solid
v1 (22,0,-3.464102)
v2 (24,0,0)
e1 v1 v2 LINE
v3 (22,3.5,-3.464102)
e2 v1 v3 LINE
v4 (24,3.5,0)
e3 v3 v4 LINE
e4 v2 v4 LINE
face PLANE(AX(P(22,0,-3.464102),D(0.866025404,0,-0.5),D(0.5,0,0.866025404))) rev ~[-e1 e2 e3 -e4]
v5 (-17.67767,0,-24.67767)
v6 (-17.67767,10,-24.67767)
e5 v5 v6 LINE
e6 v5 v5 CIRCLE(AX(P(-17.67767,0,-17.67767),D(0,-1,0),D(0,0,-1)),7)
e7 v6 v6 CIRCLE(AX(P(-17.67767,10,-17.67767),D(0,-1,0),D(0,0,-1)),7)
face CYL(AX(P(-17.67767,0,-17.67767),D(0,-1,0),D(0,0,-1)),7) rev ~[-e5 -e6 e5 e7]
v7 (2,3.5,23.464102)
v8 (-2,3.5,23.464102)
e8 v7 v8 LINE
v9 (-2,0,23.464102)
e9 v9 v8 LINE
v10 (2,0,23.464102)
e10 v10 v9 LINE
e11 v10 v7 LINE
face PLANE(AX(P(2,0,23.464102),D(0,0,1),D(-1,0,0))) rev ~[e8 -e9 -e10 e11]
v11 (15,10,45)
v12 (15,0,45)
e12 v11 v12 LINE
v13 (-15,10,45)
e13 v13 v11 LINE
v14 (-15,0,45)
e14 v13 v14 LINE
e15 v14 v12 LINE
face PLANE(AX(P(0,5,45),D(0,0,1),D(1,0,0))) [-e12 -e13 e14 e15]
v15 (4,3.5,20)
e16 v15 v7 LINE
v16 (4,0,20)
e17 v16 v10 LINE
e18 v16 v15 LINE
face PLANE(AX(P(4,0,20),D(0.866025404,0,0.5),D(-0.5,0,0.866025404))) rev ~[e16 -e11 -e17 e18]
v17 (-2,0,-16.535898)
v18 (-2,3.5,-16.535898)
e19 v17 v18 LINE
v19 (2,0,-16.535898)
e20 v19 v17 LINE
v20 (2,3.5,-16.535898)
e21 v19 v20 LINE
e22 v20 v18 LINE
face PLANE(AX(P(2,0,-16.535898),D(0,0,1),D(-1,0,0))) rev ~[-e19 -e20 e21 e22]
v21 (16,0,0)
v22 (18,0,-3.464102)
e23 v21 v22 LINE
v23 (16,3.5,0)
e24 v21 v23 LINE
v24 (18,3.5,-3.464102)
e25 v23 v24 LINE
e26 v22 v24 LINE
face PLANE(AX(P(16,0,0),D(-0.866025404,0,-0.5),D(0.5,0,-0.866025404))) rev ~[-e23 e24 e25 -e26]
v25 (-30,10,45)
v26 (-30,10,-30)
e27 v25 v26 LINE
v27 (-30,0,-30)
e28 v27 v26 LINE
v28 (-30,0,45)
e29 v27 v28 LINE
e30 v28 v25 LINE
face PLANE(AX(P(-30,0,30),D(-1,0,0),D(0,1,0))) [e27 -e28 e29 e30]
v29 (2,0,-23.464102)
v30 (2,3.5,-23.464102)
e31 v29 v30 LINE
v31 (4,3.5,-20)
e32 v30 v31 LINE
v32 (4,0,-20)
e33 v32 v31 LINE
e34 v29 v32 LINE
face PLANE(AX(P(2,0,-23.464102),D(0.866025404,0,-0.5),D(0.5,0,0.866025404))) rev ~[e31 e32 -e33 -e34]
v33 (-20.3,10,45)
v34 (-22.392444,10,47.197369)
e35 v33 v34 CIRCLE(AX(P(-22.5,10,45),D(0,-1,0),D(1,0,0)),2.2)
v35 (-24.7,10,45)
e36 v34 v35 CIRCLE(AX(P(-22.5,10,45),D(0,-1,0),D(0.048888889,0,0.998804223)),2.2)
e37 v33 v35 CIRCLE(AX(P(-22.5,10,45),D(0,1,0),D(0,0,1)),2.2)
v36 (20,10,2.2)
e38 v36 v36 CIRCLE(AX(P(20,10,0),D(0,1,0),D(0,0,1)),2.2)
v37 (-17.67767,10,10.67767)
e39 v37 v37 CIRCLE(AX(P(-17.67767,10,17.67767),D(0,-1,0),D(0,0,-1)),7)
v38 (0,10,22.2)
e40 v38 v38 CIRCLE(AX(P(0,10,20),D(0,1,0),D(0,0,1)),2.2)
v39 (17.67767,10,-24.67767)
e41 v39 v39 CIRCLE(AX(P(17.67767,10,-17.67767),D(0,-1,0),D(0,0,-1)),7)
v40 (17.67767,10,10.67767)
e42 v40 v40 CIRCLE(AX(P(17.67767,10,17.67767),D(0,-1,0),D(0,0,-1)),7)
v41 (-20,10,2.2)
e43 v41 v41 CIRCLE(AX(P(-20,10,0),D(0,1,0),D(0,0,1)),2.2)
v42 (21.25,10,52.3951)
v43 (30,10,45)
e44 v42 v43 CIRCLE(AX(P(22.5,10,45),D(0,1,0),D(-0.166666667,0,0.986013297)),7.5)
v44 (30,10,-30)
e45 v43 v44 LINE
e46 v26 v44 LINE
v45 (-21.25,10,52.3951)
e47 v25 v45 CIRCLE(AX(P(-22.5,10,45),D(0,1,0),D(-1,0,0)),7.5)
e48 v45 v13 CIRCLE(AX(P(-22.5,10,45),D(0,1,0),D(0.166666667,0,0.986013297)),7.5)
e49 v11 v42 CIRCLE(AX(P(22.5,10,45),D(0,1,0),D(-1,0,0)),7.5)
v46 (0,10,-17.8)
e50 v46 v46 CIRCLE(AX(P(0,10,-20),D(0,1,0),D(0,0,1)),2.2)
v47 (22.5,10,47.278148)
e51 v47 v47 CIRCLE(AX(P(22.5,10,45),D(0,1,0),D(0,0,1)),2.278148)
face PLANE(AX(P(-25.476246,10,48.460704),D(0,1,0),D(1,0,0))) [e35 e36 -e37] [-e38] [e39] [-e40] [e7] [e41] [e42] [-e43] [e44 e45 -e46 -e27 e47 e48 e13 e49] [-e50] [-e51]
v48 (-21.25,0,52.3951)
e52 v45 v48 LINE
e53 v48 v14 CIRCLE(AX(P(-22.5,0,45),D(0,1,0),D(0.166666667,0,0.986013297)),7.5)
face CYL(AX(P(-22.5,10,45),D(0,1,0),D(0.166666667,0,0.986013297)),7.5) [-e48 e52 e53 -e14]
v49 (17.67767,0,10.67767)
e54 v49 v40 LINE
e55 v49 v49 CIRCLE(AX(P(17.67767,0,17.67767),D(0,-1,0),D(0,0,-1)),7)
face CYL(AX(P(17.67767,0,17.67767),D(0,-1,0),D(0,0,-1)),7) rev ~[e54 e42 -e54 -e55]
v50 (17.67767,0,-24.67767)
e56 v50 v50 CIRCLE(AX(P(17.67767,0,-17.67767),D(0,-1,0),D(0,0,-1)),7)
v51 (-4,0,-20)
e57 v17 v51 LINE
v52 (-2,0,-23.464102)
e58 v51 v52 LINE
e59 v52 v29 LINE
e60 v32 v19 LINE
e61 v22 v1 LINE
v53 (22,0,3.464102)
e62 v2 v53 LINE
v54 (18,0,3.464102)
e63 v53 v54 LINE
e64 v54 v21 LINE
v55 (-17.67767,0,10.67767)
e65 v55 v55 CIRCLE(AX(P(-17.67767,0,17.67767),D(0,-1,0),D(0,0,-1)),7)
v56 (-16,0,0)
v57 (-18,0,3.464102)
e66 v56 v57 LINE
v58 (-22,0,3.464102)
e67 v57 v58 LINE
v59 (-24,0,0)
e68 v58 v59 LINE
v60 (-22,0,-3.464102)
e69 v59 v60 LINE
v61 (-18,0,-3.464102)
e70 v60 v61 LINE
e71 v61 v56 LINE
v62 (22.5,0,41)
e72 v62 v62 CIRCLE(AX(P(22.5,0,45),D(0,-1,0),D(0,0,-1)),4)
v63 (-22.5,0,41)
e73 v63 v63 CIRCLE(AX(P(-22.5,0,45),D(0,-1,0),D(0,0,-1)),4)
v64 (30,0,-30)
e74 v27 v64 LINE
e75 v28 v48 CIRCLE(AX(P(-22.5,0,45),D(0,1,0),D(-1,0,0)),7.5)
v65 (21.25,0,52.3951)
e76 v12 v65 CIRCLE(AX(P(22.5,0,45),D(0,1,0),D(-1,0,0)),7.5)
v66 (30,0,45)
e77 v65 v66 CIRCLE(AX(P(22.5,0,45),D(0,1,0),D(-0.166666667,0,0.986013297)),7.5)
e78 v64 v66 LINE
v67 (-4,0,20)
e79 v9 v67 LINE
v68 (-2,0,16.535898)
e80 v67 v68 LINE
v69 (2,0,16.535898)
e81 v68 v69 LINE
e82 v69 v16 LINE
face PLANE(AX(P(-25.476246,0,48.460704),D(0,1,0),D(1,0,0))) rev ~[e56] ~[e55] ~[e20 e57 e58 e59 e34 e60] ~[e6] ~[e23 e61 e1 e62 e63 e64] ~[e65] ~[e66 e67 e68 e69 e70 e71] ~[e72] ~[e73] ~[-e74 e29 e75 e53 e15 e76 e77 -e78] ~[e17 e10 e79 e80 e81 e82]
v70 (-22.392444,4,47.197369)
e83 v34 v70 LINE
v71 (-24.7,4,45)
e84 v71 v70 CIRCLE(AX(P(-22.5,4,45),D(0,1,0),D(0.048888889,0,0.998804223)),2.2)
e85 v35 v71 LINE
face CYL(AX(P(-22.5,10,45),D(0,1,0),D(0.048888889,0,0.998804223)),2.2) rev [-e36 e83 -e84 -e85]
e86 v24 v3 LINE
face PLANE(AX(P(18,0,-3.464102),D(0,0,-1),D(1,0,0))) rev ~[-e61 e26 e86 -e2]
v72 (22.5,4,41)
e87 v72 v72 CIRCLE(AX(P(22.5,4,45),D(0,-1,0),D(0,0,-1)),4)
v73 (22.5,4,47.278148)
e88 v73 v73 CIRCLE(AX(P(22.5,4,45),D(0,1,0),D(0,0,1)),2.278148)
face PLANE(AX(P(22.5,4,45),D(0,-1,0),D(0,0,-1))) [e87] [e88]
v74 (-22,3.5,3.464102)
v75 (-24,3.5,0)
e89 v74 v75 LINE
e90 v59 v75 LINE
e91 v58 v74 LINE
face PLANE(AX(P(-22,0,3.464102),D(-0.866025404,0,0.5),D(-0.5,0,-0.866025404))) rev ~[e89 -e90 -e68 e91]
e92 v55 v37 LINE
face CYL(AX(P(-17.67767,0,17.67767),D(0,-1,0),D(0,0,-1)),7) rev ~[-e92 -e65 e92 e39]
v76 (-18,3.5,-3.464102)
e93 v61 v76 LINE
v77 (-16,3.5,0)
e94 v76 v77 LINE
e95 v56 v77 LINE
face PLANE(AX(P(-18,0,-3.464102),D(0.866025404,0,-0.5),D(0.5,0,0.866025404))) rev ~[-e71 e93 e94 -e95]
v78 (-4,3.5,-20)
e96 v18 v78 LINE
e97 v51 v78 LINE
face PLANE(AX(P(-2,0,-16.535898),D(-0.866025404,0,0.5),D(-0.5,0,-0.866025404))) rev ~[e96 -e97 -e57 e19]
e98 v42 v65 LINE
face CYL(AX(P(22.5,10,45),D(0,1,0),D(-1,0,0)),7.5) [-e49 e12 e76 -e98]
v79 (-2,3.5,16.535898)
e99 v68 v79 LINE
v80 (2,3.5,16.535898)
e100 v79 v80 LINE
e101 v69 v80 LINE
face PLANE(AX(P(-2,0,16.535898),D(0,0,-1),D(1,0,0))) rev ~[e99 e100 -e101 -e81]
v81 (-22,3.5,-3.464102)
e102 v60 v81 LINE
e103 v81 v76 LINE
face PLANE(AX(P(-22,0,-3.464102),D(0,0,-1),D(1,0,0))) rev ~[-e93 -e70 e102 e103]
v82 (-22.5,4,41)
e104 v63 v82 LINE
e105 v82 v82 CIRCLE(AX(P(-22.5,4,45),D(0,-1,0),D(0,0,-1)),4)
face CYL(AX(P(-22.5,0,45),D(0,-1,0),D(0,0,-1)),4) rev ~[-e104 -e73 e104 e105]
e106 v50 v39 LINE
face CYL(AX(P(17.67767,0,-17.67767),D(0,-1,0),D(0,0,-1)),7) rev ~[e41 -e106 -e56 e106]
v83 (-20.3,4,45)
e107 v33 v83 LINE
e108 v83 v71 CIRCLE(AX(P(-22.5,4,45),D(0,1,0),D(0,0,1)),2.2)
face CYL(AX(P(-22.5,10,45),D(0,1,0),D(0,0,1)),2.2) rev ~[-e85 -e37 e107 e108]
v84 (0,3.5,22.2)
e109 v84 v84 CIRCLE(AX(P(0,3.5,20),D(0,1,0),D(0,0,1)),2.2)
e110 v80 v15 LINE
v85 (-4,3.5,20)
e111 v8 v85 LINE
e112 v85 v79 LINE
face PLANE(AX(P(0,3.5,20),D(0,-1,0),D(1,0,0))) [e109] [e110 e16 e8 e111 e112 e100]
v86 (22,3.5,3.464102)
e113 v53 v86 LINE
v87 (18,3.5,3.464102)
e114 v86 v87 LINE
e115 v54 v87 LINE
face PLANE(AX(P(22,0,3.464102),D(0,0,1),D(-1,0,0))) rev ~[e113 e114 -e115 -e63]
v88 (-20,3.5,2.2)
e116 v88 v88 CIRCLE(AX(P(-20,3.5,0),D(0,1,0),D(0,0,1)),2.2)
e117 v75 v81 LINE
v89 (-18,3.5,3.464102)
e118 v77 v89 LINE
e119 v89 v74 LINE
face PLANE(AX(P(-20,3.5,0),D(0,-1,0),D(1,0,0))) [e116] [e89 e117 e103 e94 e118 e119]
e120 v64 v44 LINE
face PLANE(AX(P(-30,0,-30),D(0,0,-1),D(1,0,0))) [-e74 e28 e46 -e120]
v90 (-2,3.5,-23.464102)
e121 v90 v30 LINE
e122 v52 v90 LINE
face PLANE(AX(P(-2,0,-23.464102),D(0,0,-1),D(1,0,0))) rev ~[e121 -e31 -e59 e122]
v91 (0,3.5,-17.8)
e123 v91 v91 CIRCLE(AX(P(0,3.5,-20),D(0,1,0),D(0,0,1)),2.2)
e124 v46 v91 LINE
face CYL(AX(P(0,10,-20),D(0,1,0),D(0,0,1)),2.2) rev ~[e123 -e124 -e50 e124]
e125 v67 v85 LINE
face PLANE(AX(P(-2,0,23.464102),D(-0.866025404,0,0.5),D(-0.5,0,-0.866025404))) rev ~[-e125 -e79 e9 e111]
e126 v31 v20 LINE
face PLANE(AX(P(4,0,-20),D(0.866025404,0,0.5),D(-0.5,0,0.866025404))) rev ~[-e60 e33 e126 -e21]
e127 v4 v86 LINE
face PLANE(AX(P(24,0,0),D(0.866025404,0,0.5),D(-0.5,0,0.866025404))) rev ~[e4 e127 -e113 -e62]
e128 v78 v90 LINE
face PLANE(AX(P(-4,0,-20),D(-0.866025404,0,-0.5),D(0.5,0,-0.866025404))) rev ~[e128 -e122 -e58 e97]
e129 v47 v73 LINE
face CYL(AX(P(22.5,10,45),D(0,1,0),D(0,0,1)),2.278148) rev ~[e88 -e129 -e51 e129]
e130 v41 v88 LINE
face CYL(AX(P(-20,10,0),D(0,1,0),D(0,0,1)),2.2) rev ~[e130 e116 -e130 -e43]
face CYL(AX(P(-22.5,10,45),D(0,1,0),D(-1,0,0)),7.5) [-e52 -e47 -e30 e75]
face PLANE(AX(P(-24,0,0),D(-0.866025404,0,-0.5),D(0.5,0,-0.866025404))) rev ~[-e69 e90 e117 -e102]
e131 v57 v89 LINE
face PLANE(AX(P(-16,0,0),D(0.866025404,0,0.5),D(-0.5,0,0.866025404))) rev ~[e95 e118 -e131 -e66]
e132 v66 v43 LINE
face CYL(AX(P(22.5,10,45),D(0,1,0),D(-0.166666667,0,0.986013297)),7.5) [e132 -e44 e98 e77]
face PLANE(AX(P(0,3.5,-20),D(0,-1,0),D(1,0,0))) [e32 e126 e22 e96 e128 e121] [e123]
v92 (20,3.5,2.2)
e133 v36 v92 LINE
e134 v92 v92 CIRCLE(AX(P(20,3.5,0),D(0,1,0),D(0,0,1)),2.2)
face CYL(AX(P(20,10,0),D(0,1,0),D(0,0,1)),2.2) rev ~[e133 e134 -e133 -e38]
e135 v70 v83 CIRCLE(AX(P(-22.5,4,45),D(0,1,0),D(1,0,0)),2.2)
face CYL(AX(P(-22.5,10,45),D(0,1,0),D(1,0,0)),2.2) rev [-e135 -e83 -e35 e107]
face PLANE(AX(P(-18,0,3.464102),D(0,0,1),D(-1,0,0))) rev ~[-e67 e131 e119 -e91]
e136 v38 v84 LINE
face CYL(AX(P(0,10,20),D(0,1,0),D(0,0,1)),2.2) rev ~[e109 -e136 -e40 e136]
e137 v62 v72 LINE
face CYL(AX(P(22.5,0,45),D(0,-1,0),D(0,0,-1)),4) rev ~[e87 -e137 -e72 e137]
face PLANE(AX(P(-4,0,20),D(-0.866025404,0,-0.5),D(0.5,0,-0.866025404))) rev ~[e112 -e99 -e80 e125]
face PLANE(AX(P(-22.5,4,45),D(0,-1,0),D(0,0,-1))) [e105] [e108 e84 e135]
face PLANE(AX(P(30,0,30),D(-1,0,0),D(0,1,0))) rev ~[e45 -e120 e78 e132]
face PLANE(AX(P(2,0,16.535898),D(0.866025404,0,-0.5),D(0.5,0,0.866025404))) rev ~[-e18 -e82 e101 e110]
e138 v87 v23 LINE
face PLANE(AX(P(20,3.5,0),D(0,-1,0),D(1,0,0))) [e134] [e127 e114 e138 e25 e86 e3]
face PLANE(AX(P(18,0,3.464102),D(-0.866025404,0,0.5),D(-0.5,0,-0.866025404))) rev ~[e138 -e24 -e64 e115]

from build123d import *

# Parameters (mm, degrees)
SKETCH_1_W          = 60
SKETCH_1_H          = 60
EXTRUDE_1_DEPTH     = 10
SKETCH_2_R          = 2.2
CUT_EXTRUDE_1_DEPTH = 10
CUT_EXTRUDE_2_DEPTH = 3.5
SKETCH_4_R          = 7
CUT_EXTRUDE_3_DEPTH = 44.588989435
SKETCH_5_W          = 60
SKETCH_5_H          = 10
EXTRUDE_2_DEPTH     = 15
EXTRUDE_3_DEPTH     = 10
SKETCH_7_R          = 2.27814783
SKETCH_7_R_2        = 2.2
CUT_EXTRUDE_4_DEPTH = 62.288253361
SKETCH_8_R          = 4
CUT_EXTRUDE_5_DEPTH = 4


with BuildPart() as part:
    # 草图1 → 凸台-拉伸1 (new body)
    with BuildSketch(Plane(origin=(0, 0, 0), x_dir=(1, 0, 0), z_dir=(0, 1, 0))):
        Rectangle(SKETCH_1_W, SKETCH_1_H)
    extrude(amount=EXTRUDE_1_DEPTH)

    # 草图2 → 切除-拉伸1 (cut)
    with BuildSketch(Plane(origin=(0, 10, 0), x_dir=(1, 0, 0), z_dir=(0, 1, 0))):
        with Locations(Location((0, 20, 0), (0, 0, 270))):
            Circle(SKETCH_2_R)
        with Locations(Location((-20, 0, 0), (0, 0, 270))):
            Circle(SKETCH_2_R)
        with Locations(Location((0, -20, 0), (0, 0, 270))):
            Circle(SKETCH_2_R)
        with Locations(Location((20, 0, 0), (0, 0, 270))):
            Circle(SKETCH_2_R)
    extrude(amount=-CUT_EXTRUDE_1_DEPTH, mode=Mode.SUBTRACT)

    # 草图3 → 切除-拉伸2 (cut)
    with BuildSketch(Plane.XZ):
        Polygon((4, 20), (2, 23.464101615), (-2, 23.464101615), (-4, 20), (-2, 16.535898385), (2, 16.535898385), align=None)
        Polygon((-16, 0), (-18, 3.464101615), (-22, 3.464101615), (-24, 0), (-22, -3.464101615), (-18, -3.464101615), align=None)
        Polygon((24, 0), (22, 3.464101615), (18, 3.464101615), (16, 0), (18, -3.464101615), (22, -3.464101615), align=None)
        Polygon((4, -20), (2, -16.535898385), (-2, -16.535898385), (-4, -20), (-2, -23.464101615), (2, -23.464101615), align=None)
    extrude(amount=-CUT_EXTRUDE_2_DEPTH, mode=Mode.SUBTRACT)

    # 草图4 → 切除-拉伸3 (cut, through all)
    with BuildSketch(Plane.XZ):
        with Locations(Location((-17.67766953, 17.67766953, 0), (0, 0, 270))):
            Circle(SKETCH_4_R)
        with Locations(Location((-17.67766953, -17.67766953, 0), (0, 0, 270))):
            Circle(SKETCH_4_R)
        with Locations(Location((17.67766953, -17.67766953, 0), (0, 0, 270))):
            Circle(SKETCH_4_R)
        with Locations(Location((17.67766953, 17.67766953, 0), (0, 0, 270))):
            Circle(SKETCH_4_R)
    extrude(amount=-CUT_EXTRUDE_3_DEPTH, mode=Mode.SUBTRACT)

    # 草图5 → 凸台-拉伸2 (add)
    with BuildSketch(Plane.XY.offset(30)):
        with Locations((0, 5)):
            Rectangle(SKETCH_5_W, SKETCH_5_H)
    extrude(amount=EXTRUDE_2_DEPTH)

    # 草图6 → 凸台-拉伸3 (add)
    with BuildSketch(Plane(origin=(0, 10, 0), x_dir=(1, 0, 0), z_dir=(0, 1, 0))):
        with BuildLine():
            ThreePointArc((-30, -45), (-27.341229183, -50.728219619), (-21.25, -52.395099729))
            ThreePointArc((-21.25, -52.395099729), (-21.97543719, -49.830130464), (-22.392444444, -47.197369291))
            ThreePointArc((-22.392444444, -47.197369291), (-24.017131797, -46.593207805), (-24.7, -45))
            Line((-24.7, -45), (-30, -45))
        make_face()
        with BuildLine():
            ThreePointArc((-22.392444444, -47.197369291), (-21.97543719, -49.830130464), (-21.25, -52.395099729))
            ThreePointArc((-21.25, -52.395099729), (-16.771780381, -49.841229183), (-15, -45))
            Line((-15, -45), (-20.3, -45))
            ThreePointArc((-20.3, -45), (-20.906792195, -46.517131797), (-22.392444444, -47.197369291))
        make_face()
        with BuildLine():
            Line((-20.3, -45), (-15, -45))
            ThreePointArc((-15, -45), (-16.771780381, -40.158770817), (-21.25, -37.604900271))
            ThreePointArc((-21.25, -37.604900271), (-21.97543719, -40.169869536), (-22.392444444, -42.802630709))
            ThreePointArc((-22.392444444, -42.802630709), (-20.906792195, -43.482868203), (-20.3, -45))
        make_face()
        with BuildLine():
            ThreePointArc((-21.25, -37.604900271), (-27.341229183, -39.271780381), (-30, -45))
            Line((-30, -45), (-24.7, -45))
            ThreePointArc((-24.7, -45), (-24.017131797, -43.406792195), (-22.392444444, -42.802630709))
            ThreePointArc((-22.392444444, -42.802630709), (-21.97543719, -40.169869536), (-21.25, -37.604900271))
        make_face()
        with BuildLine():
            ThreePointArc((21.25, -52.395099729), (27.341229183, -50.728219619), (30, -45))
            Line((30, -45), (24.7, -45))
            ThreePointArc((24.7, -45), (24.017131797, -46.593207805), (22.392444444, -47.197369291))
            ThreePointArc((22.392444444, -47.197369291), (21.97543719, -49.830130464), (21.25, -52.395099729))
        make_face()
        with BuildLine():
            Line((24.7, -45), (30, -45))
            ThreePointArc((30, -45), (27.341229183, -39.271780381), (21.25, -37.604900271))
            ThreePointArc((21.25, -37.604900271), (21.97543719, -40.169869536), (22.392444444, -42.802630709))
            ThreePointArc((22.392444444, -42.802630709), (24.017131797, -43.406792195), (24.7, -45))
        make_face()
        with BuildLine():
            ThreePointArc((22.392444444, -42.802630709), (21.97543719, -40.169869536), (21.25, -37.604900271))
            ThreePointArc((21.25, -37.604900271), (16.771780381, -40.158770817), (15, -45))
            Line((15, -45), (20.3, -45))
            ThreePointArc((20.3, -45), (20.906792195, -43.482868203), (22.392444444, -42.802630709))
        make_face()
        with BuildLine():
            ThreePointArc((15, -45), (16.771780381, -49.841229183), (21.25, -52.395099729))
            ThreePointArc((21.25, -52.395099729), (21.97543719, -49.830130464), (22.392444444, -47.197369291))
            ThreePointArc((22.392444444, -47.197369291), (20.906792195, -46.517131797), (20.3, -45))
            Line((20.3, -45), (15, -45))
        make_face()
    extrude(amount=-EXTRUDE_3_DEPTH)

    # 草图7 → 切除-拉伸4 (cut, through all)
    with BuildSketch(Plane(origin=(0, 10, 0), x_dir=(1, 0, 0), z_dir=(0, 1, 0))):
        with Locations(Location((22.5, -45, 0), (0, 0, 270))):
            Circle(SKETCH_7_R)
        with Locations(Location((-22.5, -45, 0), (0, 0, 270))):
            Circle(SKETCH_7_R_2)
    extrude(amount=-CUT_EXTRUDE_4_DEPTH, mode=Mode.SUBTRACT)

    # 草图8 → 切除-拉伸5 (cut)
    with BuildSketch(Plane(origin=(0, 0, 0), x_dir=(-1, 0, 0), z_dir=(0, -1, 0))):
        with Locations(Location((-22.5, -45, 0), (0, 0, 90))):
            Circle(SKETCH_8_R)
        with Locations(Location((22.5, -45, 0), (0, 0, 90))):
            Circle(SKETCH_8_R)
    extrude(amount=-CUT_EXTRUDE_5_DEPTH, mode=Mode.SUBTRACT)


solid = part.part
